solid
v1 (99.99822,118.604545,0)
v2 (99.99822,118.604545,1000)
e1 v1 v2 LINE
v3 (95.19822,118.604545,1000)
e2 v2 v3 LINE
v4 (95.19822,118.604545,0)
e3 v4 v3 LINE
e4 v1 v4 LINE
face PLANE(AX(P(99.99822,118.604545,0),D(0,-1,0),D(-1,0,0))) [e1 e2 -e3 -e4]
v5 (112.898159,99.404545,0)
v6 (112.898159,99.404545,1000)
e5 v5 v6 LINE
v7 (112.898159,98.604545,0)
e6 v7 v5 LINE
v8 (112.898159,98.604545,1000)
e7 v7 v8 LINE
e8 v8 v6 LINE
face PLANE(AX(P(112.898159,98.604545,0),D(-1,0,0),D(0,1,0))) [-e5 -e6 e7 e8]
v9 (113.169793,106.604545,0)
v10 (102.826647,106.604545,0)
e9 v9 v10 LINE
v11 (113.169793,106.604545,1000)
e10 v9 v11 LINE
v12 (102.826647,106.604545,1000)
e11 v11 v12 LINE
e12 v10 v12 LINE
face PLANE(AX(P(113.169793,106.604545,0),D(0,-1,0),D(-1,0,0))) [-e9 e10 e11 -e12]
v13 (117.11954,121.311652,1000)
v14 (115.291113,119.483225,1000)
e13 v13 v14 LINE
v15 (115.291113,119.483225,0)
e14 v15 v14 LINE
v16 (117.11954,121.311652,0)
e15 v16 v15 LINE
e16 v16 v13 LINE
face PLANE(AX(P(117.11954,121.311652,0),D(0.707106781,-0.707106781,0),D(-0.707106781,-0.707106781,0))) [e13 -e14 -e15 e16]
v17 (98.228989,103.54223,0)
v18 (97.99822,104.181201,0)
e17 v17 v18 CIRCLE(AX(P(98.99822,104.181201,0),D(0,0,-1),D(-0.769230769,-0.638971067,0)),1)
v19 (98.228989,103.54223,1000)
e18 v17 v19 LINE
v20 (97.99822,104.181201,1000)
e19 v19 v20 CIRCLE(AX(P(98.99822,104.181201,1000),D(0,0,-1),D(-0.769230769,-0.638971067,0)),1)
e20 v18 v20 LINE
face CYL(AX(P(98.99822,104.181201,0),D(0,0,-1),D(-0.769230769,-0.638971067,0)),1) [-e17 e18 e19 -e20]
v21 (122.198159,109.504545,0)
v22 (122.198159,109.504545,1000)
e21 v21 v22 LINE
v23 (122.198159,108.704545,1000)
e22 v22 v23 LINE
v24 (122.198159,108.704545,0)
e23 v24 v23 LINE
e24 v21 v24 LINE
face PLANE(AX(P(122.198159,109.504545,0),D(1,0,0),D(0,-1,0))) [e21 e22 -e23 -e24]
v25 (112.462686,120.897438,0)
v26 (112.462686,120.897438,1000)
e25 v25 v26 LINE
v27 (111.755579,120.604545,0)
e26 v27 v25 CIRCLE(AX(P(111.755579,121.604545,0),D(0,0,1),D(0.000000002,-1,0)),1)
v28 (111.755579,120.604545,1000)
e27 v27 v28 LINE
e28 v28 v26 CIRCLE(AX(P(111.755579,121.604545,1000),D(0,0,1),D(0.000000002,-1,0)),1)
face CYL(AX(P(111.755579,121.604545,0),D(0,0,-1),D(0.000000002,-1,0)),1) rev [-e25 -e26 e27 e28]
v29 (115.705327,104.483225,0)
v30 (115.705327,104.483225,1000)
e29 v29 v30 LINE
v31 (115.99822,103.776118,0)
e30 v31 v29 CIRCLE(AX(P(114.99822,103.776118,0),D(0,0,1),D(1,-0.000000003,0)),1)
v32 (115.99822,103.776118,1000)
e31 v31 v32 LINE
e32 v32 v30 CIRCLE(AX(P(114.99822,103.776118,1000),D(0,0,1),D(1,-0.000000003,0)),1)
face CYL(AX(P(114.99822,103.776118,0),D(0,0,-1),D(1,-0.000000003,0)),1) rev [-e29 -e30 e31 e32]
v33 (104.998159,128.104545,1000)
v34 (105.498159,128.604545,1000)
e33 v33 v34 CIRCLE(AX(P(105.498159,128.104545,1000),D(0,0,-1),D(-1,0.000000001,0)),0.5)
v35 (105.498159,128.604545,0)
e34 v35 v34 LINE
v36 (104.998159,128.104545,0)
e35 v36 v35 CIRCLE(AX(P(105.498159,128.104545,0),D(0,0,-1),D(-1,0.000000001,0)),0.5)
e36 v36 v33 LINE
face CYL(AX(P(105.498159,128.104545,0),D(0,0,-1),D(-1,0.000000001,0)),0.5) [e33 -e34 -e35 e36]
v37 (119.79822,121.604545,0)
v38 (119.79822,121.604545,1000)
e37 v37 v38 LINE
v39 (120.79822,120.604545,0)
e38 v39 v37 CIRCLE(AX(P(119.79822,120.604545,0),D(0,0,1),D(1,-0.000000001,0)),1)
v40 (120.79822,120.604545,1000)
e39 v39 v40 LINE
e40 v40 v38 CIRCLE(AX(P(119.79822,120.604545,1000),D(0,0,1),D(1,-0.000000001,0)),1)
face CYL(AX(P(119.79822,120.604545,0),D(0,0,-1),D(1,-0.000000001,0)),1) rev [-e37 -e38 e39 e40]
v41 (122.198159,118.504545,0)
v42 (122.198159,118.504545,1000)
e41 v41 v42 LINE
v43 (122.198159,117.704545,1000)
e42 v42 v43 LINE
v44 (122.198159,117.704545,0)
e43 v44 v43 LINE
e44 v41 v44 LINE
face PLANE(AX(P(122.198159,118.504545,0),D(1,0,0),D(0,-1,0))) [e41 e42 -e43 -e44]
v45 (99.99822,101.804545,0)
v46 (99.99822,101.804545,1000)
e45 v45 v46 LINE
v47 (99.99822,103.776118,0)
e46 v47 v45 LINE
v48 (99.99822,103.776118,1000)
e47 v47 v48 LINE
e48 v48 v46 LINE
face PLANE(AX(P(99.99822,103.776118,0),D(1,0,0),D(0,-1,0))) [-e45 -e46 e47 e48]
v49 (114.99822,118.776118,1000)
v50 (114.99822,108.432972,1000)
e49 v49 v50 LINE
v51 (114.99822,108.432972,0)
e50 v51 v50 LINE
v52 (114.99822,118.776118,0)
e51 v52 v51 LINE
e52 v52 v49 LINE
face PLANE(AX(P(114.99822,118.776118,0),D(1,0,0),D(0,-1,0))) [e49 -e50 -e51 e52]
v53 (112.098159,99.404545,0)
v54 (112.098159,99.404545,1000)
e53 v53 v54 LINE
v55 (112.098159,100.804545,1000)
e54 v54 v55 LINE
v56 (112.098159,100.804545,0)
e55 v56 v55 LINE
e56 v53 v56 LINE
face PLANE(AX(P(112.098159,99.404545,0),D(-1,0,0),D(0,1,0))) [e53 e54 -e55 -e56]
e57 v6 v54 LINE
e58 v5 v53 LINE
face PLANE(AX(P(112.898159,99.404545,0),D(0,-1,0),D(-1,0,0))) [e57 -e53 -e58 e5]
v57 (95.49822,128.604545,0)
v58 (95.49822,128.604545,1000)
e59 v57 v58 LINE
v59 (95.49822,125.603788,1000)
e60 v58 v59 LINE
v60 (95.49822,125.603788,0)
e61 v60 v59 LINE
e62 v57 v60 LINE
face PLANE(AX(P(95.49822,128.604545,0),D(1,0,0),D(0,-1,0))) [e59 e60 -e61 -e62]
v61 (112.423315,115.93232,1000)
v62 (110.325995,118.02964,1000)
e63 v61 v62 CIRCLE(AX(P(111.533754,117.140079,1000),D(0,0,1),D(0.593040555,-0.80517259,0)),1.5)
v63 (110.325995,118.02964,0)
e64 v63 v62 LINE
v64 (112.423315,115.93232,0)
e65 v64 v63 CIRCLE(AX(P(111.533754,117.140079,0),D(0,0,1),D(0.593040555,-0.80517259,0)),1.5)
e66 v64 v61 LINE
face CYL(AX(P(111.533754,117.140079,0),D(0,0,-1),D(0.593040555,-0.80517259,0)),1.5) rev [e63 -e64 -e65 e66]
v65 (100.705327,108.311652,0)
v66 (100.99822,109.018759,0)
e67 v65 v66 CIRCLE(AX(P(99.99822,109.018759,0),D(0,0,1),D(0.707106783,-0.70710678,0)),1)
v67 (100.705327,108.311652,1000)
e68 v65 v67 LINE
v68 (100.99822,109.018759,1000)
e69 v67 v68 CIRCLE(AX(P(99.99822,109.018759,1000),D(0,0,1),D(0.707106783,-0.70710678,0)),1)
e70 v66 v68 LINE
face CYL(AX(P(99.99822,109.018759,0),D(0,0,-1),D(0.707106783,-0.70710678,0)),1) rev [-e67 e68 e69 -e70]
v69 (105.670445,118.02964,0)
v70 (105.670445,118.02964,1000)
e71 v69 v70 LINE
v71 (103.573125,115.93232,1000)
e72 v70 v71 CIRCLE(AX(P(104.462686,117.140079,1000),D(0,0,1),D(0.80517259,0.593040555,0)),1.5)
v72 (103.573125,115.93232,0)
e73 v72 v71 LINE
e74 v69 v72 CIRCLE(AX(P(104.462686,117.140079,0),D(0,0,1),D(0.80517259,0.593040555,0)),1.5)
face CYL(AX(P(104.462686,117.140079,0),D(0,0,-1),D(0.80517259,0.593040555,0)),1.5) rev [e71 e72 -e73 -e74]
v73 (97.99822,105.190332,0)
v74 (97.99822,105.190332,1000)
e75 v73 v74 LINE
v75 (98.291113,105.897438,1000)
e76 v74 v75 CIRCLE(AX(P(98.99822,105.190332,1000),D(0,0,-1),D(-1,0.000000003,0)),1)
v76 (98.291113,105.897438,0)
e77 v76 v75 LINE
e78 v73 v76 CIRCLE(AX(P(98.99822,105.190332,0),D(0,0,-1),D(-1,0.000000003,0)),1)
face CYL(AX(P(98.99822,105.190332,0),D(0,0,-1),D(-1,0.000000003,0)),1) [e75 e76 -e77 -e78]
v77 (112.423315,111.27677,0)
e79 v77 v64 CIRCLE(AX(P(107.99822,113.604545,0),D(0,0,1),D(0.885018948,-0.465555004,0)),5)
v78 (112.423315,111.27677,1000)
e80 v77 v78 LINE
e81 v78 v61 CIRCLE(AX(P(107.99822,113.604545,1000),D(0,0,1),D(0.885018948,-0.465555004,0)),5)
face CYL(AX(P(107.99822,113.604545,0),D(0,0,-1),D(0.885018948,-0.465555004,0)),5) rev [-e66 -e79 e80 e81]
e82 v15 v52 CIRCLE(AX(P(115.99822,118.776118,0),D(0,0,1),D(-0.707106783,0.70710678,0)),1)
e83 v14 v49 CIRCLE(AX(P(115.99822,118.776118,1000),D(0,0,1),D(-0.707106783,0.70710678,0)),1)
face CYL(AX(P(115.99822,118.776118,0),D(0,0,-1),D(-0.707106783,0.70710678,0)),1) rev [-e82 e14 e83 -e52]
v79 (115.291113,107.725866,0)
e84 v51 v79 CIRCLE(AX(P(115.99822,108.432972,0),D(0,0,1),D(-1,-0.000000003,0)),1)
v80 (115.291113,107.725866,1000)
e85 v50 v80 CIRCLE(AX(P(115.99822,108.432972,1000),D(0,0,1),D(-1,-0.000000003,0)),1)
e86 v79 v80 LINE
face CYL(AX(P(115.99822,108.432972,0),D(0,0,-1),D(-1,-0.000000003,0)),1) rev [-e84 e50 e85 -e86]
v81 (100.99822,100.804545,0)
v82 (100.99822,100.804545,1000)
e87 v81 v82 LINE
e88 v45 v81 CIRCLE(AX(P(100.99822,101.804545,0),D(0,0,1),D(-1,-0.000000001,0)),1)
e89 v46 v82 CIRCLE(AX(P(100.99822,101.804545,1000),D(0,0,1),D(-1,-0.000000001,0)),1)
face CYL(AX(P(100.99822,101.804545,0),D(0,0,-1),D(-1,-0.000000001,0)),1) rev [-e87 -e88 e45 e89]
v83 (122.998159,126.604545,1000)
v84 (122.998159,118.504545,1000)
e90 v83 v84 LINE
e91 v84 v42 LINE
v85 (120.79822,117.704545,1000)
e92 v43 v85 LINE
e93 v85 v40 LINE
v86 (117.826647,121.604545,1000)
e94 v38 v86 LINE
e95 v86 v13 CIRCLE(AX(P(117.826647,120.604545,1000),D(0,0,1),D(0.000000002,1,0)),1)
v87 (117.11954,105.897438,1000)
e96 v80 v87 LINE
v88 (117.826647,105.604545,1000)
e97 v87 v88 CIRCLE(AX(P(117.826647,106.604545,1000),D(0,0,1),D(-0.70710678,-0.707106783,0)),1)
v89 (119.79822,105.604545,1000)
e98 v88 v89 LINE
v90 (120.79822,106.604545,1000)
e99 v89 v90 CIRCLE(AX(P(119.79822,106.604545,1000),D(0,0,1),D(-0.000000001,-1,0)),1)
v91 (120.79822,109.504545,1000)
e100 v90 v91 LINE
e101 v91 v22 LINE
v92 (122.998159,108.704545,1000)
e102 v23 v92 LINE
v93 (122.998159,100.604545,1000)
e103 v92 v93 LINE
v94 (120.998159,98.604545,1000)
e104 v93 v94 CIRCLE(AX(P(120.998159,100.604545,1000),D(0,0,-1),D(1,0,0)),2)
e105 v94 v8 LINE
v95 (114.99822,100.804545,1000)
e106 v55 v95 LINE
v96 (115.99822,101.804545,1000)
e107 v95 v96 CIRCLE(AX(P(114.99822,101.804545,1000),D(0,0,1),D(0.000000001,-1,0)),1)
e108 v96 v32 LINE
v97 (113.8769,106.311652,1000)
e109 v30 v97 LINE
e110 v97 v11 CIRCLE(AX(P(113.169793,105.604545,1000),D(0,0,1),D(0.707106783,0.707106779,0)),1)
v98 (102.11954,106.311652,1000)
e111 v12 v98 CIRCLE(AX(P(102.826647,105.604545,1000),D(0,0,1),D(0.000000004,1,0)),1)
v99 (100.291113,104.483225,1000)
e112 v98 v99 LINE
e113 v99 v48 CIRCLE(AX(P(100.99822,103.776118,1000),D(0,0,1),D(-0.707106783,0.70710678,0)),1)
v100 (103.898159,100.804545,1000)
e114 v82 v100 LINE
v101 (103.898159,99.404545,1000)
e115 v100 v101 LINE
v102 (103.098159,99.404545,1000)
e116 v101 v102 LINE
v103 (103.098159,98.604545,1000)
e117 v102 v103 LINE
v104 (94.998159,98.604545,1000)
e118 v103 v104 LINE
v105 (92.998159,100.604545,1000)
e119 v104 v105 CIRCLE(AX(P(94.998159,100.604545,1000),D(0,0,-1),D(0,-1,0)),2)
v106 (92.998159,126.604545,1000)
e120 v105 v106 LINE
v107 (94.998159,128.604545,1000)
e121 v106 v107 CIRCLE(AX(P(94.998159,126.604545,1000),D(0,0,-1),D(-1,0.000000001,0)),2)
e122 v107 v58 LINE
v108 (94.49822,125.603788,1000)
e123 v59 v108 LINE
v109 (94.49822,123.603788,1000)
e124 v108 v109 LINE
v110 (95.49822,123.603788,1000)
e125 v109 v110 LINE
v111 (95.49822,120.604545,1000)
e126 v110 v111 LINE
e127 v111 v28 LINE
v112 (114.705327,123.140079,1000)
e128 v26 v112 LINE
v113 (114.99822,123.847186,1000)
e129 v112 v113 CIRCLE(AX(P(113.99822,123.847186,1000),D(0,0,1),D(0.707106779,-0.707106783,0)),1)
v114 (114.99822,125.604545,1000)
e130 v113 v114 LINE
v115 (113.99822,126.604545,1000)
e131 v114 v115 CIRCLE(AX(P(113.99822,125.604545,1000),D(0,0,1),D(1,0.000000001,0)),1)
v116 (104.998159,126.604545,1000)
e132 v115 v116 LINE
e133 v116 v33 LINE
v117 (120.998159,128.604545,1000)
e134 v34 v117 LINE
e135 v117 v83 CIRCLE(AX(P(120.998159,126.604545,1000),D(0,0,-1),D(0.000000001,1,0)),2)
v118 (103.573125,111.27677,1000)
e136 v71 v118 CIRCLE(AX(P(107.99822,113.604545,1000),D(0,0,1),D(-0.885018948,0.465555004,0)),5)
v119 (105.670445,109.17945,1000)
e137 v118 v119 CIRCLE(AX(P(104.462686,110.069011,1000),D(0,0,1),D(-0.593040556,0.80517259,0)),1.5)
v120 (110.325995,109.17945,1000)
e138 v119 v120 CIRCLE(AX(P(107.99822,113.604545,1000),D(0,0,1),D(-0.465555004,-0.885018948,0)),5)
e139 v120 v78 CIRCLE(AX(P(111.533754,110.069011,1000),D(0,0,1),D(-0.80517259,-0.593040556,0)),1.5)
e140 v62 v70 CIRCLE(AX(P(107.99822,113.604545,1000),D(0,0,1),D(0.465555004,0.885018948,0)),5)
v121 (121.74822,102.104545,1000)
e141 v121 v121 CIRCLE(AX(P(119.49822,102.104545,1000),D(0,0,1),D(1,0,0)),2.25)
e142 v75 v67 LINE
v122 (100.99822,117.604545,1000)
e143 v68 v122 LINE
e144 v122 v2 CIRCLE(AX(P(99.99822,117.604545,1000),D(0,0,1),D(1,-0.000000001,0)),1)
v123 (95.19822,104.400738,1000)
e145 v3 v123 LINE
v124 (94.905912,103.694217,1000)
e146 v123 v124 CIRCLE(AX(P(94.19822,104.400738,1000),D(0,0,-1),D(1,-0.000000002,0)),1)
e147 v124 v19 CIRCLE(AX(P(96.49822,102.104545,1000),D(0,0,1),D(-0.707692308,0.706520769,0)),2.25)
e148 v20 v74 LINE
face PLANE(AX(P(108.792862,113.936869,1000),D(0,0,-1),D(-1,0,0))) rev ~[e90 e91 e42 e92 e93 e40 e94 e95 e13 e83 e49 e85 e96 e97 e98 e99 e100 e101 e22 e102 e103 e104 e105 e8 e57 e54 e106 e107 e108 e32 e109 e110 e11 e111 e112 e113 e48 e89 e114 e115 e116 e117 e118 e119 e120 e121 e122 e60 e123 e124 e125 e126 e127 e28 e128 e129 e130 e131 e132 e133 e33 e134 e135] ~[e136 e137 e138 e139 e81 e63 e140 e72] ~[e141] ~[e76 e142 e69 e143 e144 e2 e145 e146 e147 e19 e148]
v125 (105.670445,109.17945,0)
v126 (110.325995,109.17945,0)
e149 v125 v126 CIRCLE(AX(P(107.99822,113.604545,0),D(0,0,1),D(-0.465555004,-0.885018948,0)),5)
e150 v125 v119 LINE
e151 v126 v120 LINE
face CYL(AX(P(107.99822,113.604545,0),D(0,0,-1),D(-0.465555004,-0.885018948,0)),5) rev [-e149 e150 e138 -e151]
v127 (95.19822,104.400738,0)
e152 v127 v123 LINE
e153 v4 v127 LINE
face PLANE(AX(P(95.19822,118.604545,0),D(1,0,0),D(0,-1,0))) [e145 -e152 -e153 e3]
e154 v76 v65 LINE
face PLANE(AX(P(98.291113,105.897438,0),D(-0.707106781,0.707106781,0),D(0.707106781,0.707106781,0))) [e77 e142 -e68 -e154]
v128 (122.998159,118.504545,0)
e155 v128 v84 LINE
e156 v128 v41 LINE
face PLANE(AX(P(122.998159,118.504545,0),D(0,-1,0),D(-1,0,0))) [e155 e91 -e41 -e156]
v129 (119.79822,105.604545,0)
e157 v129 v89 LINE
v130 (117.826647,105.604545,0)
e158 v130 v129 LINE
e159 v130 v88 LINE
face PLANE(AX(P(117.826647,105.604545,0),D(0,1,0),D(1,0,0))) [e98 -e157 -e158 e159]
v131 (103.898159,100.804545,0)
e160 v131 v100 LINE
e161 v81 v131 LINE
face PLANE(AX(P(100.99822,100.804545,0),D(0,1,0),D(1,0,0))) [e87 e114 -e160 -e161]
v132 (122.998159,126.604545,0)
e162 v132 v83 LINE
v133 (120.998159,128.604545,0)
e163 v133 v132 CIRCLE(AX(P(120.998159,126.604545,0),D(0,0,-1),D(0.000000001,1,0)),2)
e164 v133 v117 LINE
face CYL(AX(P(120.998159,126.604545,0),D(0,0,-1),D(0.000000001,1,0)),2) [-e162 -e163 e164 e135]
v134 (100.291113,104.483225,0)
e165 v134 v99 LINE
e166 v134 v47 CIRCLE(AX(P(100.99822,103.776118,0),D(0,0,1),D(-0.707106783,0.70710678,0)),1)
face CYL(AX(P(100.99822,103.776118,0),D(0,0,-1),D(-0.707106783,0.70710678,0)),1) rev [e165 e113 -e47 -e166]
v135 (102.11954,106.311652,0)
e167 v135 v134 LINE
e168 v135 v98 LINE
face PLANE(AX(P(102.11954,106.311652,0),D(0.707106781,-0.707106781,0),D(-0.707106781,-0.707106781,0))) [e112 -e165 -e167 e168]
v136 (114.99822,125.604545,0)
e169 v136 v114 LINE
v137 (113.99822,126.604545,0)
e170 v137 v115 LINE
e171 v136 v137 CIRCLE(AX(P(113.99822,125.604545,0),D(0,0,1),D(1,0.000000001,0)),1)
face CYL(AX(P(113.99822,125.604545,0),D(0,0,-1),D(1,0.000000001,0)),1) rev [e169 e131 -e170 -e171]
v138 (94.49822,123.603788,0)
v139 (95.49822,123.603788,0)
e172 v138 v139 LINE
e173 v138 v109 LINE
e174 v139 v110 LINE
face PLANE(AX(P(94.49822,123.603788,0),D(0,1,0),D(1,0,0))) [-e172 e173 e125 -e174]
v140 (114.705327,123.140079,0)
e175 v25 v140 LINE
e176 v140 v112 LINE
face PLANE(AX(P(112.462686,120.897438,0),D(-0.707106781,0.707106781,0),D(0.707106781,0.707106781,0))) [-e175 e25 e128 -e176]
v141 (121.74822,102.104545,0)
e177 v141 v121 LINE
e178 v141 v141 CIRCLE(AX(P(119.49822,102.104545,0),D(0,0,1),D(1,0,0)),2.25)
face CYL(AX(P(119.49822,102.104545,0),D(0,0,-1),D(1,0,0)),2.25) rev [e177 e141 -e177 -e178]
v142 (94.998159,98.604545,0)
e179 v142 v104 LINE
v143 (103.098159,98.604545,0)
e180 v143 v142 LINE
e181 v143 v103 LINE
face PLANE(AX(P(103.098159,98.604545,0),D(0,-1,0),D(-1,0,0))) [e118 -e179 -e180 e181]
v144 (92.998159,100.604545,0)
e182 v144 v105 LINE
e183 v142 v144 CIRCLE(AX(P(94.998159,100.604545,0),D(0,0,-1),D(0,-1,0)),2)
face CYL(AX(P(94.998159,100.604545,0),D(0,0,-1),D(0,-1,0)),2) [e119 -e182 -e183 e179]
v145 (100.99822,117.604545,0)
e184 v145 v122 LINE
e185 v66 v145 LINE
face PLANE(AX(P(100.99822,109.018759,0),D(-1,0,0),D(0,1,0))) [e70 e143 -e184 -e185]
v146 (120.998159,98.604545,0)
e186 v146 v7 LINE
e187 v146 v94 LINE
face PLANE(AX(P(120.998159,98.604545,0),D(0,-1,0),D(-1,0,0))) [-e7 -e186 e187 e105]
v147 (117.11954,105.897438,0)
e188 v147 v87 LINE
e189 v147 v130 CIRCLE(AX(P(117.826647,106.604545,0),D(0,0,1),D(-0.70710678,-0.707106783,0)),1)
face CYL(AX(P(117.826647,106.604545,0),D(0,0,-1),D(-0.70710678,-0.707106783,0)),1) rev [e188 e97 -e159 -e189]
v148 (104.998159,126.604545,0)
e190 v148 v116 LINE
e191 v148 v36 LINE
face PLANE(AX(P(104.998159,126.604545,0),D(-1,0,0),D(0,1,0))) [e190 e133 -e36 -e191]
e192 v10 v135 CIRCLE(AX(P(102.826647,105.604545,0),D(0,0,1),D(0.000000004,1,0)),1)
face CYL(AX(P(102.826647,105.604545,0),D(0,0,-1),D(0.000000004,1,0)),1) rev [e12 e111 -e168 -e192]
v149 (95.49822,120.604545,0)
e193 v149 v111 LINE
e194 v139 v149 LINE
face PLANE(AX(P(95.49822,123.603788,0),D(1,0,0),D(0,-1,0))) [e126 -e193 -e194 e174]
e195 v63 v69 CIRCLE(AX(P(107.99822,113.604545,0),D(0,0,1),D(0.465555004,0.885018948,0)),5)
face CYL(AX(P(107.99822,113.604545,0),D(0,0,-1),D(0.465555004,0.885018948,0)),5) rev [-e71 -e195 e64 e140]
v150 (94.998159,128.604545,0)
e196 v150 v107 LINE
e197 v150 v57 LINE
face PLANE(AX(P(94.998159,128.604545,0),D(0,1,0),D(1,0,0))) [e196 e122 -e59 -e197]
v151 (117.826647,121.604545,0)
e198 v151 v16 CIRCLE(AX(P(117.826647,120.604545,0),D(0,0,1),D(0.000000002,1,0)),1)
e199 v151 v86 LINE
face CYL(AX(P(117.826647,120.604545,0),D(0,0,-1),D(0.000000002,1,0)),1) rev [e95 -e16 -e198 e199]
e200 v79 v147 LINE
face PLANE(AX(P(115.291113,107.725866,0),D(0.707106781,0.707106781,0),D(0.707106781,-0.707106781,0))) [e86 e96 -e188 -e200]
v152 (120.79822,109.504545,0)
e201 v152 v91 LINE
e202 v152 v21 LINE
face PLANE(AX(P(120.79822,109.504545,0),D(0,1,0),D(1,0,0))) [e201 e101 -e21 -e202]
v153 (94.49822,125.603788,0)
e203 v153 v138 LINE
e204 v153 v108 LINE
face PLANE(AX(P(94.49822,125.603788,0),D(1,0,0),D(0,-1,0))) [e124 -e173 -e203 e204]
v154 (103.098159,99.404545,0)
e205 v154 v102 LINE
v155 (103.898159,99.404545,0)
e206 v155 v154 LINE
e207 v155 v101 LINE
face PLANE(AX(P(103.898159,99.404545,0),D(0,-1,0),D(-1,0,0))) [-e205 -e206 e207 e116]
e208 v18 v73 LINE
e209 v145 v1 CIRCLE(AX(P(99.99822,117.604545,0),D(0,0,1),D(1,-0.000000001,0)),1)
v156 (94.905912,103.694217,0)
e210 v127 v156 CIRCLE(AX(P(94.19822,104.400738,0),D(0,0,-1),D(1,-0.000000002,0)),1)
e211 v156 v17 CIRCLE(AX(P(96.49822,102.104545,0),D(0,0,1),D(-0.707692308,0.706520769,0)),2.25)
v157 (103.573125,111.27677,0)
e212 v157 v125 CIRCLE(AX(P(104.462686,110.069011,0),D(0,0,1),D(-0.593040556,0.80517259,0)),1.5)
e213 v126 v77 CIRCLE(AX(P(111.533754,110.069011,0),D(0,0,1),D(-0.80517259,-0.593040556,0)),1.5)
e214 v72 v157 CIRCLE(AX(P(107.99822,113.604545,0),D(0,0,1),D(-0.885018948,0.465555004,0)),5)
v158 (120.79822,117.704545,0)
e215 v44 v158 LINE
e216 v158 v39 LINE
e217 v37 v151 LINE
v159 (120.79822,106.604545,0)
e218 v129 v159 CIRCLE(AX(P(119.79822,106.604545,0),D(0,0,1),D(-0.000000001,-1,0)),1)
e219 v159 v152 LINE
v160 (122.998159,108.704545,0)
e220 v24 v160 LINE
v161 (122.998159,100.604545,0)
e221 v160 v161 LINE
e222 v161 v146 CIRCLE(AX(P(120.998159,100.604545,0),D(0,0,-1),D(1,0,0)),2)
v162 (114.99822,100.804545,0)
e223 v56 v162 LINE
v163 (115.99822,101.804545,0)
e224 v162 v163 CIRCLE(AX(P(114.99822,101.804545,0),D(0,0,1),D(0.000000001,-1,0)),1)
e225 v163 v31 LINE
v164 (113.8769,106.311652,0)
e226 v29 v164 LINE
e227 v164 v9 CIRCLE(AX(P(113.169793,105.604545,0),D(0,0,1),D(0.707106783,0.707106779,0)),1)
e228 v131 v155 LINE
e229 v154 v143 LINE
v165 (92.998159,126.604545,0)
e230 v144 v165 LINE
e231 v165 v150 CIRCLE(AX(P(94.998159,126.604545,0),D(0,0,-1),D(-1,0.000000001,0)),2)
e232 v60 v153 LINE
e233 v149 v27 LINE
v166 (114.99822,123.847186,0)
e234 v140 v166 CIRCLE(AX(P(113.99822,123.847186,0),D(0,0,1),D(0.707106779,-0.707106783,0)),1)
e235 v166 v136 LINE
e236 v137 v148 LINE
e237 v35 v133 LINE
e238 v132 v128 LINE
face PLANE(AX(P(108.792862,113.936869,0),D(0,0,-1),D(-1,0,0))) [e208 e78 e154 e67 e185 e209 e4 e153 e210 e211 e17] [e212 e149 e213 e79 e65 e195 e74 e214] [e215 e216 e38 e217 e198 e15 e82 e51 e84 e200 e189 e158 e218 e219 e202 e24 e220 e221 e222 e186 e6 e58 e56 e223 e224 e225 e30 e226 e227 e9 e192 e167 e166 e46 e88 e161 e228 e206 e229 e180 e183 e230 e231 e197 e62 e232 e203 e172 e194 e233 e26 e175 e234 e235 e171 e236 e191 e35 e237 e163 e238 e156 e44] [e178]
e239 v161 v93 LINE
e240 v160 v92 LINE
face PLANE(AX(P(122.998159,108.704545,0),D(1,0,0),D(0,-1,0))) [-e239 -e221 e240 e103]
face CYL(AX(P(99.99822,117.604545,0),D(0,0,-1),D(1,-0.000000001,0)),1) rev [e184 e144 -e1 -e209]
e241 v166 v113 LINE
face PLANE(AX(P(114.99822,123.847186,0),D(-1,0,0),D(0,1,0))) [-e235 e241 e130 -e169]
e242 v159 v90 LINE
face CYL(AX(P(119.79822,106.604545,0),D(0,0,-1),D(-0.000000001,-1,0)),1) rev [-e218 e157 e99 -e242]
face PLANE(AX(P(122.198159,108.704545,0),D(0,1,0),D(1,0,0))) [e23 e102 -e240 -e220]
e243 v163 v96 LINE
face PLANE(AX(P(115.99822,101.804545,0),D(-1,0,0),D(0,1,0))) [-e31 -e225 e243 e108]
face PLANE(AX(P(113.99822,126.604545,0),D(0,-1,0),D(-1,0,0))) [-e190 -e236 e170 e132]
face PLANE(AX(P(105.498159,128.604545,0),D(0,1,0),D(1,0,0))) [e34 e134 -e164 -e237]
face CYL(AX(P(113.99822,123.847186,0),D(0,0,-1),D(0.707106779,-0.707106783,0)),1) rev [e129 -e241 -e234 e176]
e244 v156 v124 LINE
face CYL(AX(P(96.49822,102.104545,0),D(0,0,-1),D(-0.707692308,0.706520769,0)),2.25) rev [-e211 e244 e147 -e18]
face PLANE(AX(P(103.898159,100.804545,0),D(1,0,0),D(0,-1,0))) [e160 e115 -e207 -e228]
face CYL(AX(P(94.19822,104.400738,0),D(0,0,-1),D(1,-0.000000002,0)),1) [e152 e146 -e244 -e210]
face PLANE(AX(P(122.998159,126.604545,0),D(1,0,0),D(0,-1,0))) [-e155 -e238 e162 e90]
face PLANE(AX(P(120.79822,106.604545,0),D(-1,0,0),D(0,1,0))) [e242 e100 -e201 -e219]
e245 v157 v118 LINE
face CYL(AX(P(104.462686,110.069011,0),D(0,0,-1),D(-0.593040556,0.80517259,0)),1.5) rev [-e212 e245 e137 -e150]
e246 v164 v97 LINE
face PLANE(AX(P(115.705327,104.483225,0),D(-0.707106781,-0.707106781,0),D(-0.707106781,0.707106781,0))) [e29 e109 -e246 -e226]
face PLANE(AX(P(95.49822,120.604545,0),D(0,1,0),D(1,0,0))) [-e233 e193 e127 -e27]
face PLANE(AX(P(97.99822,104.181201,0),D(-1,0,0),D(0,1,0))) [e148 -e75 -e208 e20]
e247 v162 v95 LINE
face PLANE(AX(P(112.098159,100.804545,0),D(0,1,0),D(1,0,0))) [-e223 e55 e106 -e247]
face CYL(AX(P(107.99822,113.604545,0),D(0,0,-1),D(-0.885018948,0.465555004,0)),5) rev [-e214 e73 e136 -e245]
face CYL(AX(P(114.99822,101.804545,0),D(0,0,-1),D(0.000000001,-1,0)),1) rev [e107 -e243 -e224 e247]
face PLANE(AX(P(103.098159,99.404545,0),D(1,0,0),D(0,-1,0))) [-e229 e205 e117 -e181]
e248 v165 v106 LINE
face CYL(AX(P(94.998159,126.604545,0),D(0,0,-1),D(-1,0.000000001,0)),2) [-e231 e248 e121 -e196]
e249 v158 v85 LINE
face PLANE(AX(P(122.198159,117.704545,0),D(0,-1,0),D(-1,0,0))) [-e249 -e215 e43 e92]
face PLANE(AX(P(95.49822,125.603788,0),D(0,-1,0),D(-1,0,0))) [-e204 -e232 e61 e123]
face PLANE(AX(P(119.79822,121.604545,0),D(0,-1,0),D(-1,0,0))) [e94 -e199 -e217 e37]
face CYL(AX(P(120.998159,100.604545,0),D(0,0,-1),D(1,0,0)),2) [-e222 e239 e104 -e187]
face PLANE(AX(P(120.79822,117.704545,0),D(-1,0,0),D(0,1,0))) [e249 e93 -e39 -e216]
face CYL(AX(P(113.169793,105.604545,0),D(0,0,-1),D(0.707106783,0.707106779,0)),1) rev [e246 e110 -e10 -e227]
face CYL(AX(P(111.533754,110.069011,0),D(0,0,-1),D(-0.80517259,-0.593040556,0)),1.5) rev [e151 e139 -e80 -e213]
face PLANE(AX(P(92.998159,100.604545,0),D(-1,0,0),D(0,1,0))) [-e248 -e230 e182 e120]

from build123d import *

# Parameters (mm, degrees)
SKETCH_1_R      = 2.25
EXTRUDE_1_DEPTH = 1000


with BuildPart() as part:
    # 草图1 → 拉伸1 (new body)
    with BuildSketch(Plane.XY):
        with BuildLine():
            Line((94.498219996, 123.603787887), (95.498219996, 123.603787887))
            Line((95.498219996, 123.603787887), (95.498219996, 120.604545229))
            Line((95.498219996, 120.604545229), (111.7555793, 120.604545229))
            ThreePointArc((111.7555793, 120.604545229), (112.138262733, 120.680665697), (112.462686082, 120.897438448))
            Line((112.462686082, 120.897438448), (114.705326774, 123.140079141))
            ThreePointArc((114.705326774, 123.140079141), (114.922099526, 123.46450249), (114.998219993, 123.847185922))
            Line((114.998219993, 123.847185922), (114.998219993, 125.604545228))
            ThreePointArc((114.998219993, 125.604545228), (114.705326774, 126.311652009), (113.998219993, 126.604545228))
            Line((113.998219993, 126.604545228), (104.998159012, 126.604545228))
            Line((104.998159012, 126.604545228), (104.998159012, 128.104545228))
            ThreePointArc((104.998159012, 128.104545228), (105.144605621, 128.458098618), (105.498159012, 128.604545228))
            Line((105.498159012, 128.604545228), (120.998159011, 128.604545228))
            ThreePointArc((120.998159011, 128.604545228), (122.412372573, 128.01875879), (122.998159011, 126.604545228))
            Line((122.998159011, 126.604545228), (122.998159011, 118.504545232))
            Line((122.998159011, 118.504545232), (122.198159011, 118.504545232))
            Line((122.198159011, 118.504545232), (122.198159011, 117.704545232))
            Line((122.198159011, 117.704545232), (120.798219991, 117.704545232))
            Line((120.798219991, 117.704545232), (120.798219991, 120.604545232))
            ThreePointArc((120.798219991, 120.604545232), (120.505326773, 121.311652013), (119.798219991, 121.604545232))
            Line((119.798219991, 121.604545232), (117.826647118, 121.604545232))
            ThreePointArc((117.826647118, 121.604545232), (117.443963686, 121.528424765), (117.119540337, 121.311652013))
            Line((117.119540337, 121.311652013), (115.291113212, 119.483224889))
            ThreePointArc((115.291113212, 119.483224889), (115.074340461, 119.15880154), (114.998219993, 118.776118107))
            Line((114.998219993, 118.776118107), (114.998219993, 108.432972357))
            ThreePointArc((114.998219993, 108.432972357), (115.074340461, 108.050288925), (115.291113212, 107.725865576))
            Line((115.291113212, 107.725865576), (117.119540337, 105.897438451))
            ThreePointArc((117.119540337, 105.897438451), (117.443963686, 105.6806657), (117.826647118, 105.604545232))
            Line((117.826647118, 105.604545232), (119.798219991, 105.604545232))
            ThreePointArc((119.798219991, 105.604545232), (120.505326773, 105.897438451), (120.798219991, 106.604545232))
            Line((120.798219991, 106.604545232), (120.798219991, 109.504545225))
            Line((120.798219991, 109.504545225), (122.198159011, 109.504545225))
            Line((122.198159011, 109.504545225), (122.198159011, 108.704545225))
            Line((122.198159011, 108.704545225), (122.998159011, 108.704545225))
            Line((122.998159011, 108.704545225), (122.998159011, 100.60454523))
            ThreePointArc((122.998159011, 100.60454523), (122.412372573, 99.190331667), (120.998159011, 98.60454523))
            Line((120.998159011, 98.60454523), (112.898159016, 98.60454523))
            Line((112.898159016, 98.60454523), (112.898159016, 99.40454523))
            Line((112.898159016, 99.40454523), (112.098159016, 99.40454523))
            Line((112.098159016, 99.40454523), (112.098159016, 100.804545237))
            Line((112.098159016, 100.804545237), (114.998219996, 100.804545237))
            ThreePointArc((114.998219996, 100.804545237), (115.705326777, 101.097438456), (115.998219996, 101.804545237))
            Line((115.998219996, 101.804545237), (115.998219996, 103.77611811))
            ThreePointArc((115.998219996, 103.77611811), (115.922099529, 104.158801543), (115.705326777, 104.483224892))
            Line((115.705326777, 104.483224892), (113.876899653, 106.311652016))
            ThreePointArc((113.876899653, 106.311652016), (113.552476304, 106.528424768), (113.169792871, 106.604545235))
            Line((113.169792871, 106.604545235), (102.826647121, 106.604545235))
            ThreePointArc((102.826647121, 106.604545235), (102.443963688, 106.528424768), (102.11954034, 106.311652016))
            Line((102.11954034, 106.311652016), (100.291113215, 104.483224892))
            ThreePointArc((100.291113215, 104.483224892), (100.074340464, 104.158801543), (99.998219996, 103.77611811))
            Line((99.998219996, 103.77611811), (99.998219996, 101.804545237))
            ThreePointArc((99.998219996, 101.804545237), (100.291113215, 101.097438456), (100.998219996, 100.804545237))
            Line((100.998219996, 100.804545237), (103.898159009, 100.804545237))
            Line((103.898159009, 100.804545237), (103.898159009, 99.40454523))
            Line((103.898159009, 99.40454523), (103.098159009, 99.40454523))
            Line((103.098159009, 99.40454523), (103.098159009, 98.60454523))
            Line((103.098159009, 98.60454523), (94.998159011, 98.60454523))
            ThreePointArc((94.998159011, 98.60454523), (93.583945449, 99.190331667), (92.998159011, 100.60454523))
            Line((92.998159011, 100.60454523), (92.998159011, 126.604545228))
            ThreePointArc((92.998159011, 126.604545228), (93.583945449, 128.01875879), (94.998159011, 128.604545228))
            Line((94.998159011, 128.604545228), (95.498219996, 128.604545228))
            Line((95.498219996, 128.604545228), (95.498219996, 125.603787887))
            Line((95.498219996, 125.603787887), (94.498219996, 125.603787887))
            Line((94.498219996, 125.603787887), (94.498219996, 123.603787887))
        make_face()
        with Locations((119.498219995, 102.104545233)):
            Circle(SKETCH_1_R, mode=Mode.SUBTRACT)
        with BuildLine():
            Line((97.998219996, 104.1812012), (97.998219996, 105.19033167))
            ThreePointArc((97.998219996, 105.19033167), (98.074340464, 105.573015102), (98.291113215, 105.897438451))
            Line((98.291113215, 105.897438451), (100.70532678, 108.311652016))
            ThreePointArc((100.70532678, 108.311652016), (100.922099531, 108.636075365), (100.998219999, 109.018758797))
            Line((100.998219999, 109.018758797), (100.998219999, 117.604545229))
            ThreePointArc((100.998219999, 117.604545229), (100.70532678, 118.311652011), (99.998219999, 118.604545229))
            Line((99.998219999, 118.604545229), (95.198219996, 118.604545229))
            Line((95.198219996, 118.604545229), (95.198219996, 104.400737733))
            ThreePointArc((95.198219996, 104.400737733), (95.122257957, 104.018437006), (94.905912304, 103.694216964))
            ThreePointArc((94.905912304, 103.694216964), (96.395419712, 99.856894882), (98.228989227, 103.542230133))
            ThreePointArc((98.228989227, 103.542230133), (98.057680053, 103.841518089), (97.998219996, 104.1812012))
        make_face(mode=Mode.SUBTRACT)
        with BuildLine():
            ThreePointArc((103.573125257, 115.932320253), (102.998219996, 113.604545232), (103.573125257, 111.276770211))
            ThreePointArc((103.573125257, 111.276770211), (103.402025918, 109.008351155), (105.670444975, 109.179450493))
            ThreePointArc((105.670444975, 109.179450493), (107.998219996, 108.604545232), (110.325995017, 109.179450493))
            ThreePointArc((110.325995017, 109.179450493), (112.594414074, 109.008351155), (112.423314735, 111.276770211))
            ThreePointArc((112.423314735, 111.276770211), (112.998219996, 113.604545232), (112.423314735, 115.932320253))
            ThreePointArc((112.423314735, 115.932320253), (112.594414074, 118.20073931), (110.325995017, 118.029639971))
            ThreePointArc((110.325995017, 118.029639971), (107.998219996, 118.604545232), (105.670444975, 118.029639971))
            ThreePointArc((105.670444975, 118.029639971), (103.402025918, 118.20073931), (103.573125257, 115.932320253))
        make_face(mode=Mode.SUBTRACT)
    extrude(amount=EXTRUDE_1_DEPTH)


solid = part.part
